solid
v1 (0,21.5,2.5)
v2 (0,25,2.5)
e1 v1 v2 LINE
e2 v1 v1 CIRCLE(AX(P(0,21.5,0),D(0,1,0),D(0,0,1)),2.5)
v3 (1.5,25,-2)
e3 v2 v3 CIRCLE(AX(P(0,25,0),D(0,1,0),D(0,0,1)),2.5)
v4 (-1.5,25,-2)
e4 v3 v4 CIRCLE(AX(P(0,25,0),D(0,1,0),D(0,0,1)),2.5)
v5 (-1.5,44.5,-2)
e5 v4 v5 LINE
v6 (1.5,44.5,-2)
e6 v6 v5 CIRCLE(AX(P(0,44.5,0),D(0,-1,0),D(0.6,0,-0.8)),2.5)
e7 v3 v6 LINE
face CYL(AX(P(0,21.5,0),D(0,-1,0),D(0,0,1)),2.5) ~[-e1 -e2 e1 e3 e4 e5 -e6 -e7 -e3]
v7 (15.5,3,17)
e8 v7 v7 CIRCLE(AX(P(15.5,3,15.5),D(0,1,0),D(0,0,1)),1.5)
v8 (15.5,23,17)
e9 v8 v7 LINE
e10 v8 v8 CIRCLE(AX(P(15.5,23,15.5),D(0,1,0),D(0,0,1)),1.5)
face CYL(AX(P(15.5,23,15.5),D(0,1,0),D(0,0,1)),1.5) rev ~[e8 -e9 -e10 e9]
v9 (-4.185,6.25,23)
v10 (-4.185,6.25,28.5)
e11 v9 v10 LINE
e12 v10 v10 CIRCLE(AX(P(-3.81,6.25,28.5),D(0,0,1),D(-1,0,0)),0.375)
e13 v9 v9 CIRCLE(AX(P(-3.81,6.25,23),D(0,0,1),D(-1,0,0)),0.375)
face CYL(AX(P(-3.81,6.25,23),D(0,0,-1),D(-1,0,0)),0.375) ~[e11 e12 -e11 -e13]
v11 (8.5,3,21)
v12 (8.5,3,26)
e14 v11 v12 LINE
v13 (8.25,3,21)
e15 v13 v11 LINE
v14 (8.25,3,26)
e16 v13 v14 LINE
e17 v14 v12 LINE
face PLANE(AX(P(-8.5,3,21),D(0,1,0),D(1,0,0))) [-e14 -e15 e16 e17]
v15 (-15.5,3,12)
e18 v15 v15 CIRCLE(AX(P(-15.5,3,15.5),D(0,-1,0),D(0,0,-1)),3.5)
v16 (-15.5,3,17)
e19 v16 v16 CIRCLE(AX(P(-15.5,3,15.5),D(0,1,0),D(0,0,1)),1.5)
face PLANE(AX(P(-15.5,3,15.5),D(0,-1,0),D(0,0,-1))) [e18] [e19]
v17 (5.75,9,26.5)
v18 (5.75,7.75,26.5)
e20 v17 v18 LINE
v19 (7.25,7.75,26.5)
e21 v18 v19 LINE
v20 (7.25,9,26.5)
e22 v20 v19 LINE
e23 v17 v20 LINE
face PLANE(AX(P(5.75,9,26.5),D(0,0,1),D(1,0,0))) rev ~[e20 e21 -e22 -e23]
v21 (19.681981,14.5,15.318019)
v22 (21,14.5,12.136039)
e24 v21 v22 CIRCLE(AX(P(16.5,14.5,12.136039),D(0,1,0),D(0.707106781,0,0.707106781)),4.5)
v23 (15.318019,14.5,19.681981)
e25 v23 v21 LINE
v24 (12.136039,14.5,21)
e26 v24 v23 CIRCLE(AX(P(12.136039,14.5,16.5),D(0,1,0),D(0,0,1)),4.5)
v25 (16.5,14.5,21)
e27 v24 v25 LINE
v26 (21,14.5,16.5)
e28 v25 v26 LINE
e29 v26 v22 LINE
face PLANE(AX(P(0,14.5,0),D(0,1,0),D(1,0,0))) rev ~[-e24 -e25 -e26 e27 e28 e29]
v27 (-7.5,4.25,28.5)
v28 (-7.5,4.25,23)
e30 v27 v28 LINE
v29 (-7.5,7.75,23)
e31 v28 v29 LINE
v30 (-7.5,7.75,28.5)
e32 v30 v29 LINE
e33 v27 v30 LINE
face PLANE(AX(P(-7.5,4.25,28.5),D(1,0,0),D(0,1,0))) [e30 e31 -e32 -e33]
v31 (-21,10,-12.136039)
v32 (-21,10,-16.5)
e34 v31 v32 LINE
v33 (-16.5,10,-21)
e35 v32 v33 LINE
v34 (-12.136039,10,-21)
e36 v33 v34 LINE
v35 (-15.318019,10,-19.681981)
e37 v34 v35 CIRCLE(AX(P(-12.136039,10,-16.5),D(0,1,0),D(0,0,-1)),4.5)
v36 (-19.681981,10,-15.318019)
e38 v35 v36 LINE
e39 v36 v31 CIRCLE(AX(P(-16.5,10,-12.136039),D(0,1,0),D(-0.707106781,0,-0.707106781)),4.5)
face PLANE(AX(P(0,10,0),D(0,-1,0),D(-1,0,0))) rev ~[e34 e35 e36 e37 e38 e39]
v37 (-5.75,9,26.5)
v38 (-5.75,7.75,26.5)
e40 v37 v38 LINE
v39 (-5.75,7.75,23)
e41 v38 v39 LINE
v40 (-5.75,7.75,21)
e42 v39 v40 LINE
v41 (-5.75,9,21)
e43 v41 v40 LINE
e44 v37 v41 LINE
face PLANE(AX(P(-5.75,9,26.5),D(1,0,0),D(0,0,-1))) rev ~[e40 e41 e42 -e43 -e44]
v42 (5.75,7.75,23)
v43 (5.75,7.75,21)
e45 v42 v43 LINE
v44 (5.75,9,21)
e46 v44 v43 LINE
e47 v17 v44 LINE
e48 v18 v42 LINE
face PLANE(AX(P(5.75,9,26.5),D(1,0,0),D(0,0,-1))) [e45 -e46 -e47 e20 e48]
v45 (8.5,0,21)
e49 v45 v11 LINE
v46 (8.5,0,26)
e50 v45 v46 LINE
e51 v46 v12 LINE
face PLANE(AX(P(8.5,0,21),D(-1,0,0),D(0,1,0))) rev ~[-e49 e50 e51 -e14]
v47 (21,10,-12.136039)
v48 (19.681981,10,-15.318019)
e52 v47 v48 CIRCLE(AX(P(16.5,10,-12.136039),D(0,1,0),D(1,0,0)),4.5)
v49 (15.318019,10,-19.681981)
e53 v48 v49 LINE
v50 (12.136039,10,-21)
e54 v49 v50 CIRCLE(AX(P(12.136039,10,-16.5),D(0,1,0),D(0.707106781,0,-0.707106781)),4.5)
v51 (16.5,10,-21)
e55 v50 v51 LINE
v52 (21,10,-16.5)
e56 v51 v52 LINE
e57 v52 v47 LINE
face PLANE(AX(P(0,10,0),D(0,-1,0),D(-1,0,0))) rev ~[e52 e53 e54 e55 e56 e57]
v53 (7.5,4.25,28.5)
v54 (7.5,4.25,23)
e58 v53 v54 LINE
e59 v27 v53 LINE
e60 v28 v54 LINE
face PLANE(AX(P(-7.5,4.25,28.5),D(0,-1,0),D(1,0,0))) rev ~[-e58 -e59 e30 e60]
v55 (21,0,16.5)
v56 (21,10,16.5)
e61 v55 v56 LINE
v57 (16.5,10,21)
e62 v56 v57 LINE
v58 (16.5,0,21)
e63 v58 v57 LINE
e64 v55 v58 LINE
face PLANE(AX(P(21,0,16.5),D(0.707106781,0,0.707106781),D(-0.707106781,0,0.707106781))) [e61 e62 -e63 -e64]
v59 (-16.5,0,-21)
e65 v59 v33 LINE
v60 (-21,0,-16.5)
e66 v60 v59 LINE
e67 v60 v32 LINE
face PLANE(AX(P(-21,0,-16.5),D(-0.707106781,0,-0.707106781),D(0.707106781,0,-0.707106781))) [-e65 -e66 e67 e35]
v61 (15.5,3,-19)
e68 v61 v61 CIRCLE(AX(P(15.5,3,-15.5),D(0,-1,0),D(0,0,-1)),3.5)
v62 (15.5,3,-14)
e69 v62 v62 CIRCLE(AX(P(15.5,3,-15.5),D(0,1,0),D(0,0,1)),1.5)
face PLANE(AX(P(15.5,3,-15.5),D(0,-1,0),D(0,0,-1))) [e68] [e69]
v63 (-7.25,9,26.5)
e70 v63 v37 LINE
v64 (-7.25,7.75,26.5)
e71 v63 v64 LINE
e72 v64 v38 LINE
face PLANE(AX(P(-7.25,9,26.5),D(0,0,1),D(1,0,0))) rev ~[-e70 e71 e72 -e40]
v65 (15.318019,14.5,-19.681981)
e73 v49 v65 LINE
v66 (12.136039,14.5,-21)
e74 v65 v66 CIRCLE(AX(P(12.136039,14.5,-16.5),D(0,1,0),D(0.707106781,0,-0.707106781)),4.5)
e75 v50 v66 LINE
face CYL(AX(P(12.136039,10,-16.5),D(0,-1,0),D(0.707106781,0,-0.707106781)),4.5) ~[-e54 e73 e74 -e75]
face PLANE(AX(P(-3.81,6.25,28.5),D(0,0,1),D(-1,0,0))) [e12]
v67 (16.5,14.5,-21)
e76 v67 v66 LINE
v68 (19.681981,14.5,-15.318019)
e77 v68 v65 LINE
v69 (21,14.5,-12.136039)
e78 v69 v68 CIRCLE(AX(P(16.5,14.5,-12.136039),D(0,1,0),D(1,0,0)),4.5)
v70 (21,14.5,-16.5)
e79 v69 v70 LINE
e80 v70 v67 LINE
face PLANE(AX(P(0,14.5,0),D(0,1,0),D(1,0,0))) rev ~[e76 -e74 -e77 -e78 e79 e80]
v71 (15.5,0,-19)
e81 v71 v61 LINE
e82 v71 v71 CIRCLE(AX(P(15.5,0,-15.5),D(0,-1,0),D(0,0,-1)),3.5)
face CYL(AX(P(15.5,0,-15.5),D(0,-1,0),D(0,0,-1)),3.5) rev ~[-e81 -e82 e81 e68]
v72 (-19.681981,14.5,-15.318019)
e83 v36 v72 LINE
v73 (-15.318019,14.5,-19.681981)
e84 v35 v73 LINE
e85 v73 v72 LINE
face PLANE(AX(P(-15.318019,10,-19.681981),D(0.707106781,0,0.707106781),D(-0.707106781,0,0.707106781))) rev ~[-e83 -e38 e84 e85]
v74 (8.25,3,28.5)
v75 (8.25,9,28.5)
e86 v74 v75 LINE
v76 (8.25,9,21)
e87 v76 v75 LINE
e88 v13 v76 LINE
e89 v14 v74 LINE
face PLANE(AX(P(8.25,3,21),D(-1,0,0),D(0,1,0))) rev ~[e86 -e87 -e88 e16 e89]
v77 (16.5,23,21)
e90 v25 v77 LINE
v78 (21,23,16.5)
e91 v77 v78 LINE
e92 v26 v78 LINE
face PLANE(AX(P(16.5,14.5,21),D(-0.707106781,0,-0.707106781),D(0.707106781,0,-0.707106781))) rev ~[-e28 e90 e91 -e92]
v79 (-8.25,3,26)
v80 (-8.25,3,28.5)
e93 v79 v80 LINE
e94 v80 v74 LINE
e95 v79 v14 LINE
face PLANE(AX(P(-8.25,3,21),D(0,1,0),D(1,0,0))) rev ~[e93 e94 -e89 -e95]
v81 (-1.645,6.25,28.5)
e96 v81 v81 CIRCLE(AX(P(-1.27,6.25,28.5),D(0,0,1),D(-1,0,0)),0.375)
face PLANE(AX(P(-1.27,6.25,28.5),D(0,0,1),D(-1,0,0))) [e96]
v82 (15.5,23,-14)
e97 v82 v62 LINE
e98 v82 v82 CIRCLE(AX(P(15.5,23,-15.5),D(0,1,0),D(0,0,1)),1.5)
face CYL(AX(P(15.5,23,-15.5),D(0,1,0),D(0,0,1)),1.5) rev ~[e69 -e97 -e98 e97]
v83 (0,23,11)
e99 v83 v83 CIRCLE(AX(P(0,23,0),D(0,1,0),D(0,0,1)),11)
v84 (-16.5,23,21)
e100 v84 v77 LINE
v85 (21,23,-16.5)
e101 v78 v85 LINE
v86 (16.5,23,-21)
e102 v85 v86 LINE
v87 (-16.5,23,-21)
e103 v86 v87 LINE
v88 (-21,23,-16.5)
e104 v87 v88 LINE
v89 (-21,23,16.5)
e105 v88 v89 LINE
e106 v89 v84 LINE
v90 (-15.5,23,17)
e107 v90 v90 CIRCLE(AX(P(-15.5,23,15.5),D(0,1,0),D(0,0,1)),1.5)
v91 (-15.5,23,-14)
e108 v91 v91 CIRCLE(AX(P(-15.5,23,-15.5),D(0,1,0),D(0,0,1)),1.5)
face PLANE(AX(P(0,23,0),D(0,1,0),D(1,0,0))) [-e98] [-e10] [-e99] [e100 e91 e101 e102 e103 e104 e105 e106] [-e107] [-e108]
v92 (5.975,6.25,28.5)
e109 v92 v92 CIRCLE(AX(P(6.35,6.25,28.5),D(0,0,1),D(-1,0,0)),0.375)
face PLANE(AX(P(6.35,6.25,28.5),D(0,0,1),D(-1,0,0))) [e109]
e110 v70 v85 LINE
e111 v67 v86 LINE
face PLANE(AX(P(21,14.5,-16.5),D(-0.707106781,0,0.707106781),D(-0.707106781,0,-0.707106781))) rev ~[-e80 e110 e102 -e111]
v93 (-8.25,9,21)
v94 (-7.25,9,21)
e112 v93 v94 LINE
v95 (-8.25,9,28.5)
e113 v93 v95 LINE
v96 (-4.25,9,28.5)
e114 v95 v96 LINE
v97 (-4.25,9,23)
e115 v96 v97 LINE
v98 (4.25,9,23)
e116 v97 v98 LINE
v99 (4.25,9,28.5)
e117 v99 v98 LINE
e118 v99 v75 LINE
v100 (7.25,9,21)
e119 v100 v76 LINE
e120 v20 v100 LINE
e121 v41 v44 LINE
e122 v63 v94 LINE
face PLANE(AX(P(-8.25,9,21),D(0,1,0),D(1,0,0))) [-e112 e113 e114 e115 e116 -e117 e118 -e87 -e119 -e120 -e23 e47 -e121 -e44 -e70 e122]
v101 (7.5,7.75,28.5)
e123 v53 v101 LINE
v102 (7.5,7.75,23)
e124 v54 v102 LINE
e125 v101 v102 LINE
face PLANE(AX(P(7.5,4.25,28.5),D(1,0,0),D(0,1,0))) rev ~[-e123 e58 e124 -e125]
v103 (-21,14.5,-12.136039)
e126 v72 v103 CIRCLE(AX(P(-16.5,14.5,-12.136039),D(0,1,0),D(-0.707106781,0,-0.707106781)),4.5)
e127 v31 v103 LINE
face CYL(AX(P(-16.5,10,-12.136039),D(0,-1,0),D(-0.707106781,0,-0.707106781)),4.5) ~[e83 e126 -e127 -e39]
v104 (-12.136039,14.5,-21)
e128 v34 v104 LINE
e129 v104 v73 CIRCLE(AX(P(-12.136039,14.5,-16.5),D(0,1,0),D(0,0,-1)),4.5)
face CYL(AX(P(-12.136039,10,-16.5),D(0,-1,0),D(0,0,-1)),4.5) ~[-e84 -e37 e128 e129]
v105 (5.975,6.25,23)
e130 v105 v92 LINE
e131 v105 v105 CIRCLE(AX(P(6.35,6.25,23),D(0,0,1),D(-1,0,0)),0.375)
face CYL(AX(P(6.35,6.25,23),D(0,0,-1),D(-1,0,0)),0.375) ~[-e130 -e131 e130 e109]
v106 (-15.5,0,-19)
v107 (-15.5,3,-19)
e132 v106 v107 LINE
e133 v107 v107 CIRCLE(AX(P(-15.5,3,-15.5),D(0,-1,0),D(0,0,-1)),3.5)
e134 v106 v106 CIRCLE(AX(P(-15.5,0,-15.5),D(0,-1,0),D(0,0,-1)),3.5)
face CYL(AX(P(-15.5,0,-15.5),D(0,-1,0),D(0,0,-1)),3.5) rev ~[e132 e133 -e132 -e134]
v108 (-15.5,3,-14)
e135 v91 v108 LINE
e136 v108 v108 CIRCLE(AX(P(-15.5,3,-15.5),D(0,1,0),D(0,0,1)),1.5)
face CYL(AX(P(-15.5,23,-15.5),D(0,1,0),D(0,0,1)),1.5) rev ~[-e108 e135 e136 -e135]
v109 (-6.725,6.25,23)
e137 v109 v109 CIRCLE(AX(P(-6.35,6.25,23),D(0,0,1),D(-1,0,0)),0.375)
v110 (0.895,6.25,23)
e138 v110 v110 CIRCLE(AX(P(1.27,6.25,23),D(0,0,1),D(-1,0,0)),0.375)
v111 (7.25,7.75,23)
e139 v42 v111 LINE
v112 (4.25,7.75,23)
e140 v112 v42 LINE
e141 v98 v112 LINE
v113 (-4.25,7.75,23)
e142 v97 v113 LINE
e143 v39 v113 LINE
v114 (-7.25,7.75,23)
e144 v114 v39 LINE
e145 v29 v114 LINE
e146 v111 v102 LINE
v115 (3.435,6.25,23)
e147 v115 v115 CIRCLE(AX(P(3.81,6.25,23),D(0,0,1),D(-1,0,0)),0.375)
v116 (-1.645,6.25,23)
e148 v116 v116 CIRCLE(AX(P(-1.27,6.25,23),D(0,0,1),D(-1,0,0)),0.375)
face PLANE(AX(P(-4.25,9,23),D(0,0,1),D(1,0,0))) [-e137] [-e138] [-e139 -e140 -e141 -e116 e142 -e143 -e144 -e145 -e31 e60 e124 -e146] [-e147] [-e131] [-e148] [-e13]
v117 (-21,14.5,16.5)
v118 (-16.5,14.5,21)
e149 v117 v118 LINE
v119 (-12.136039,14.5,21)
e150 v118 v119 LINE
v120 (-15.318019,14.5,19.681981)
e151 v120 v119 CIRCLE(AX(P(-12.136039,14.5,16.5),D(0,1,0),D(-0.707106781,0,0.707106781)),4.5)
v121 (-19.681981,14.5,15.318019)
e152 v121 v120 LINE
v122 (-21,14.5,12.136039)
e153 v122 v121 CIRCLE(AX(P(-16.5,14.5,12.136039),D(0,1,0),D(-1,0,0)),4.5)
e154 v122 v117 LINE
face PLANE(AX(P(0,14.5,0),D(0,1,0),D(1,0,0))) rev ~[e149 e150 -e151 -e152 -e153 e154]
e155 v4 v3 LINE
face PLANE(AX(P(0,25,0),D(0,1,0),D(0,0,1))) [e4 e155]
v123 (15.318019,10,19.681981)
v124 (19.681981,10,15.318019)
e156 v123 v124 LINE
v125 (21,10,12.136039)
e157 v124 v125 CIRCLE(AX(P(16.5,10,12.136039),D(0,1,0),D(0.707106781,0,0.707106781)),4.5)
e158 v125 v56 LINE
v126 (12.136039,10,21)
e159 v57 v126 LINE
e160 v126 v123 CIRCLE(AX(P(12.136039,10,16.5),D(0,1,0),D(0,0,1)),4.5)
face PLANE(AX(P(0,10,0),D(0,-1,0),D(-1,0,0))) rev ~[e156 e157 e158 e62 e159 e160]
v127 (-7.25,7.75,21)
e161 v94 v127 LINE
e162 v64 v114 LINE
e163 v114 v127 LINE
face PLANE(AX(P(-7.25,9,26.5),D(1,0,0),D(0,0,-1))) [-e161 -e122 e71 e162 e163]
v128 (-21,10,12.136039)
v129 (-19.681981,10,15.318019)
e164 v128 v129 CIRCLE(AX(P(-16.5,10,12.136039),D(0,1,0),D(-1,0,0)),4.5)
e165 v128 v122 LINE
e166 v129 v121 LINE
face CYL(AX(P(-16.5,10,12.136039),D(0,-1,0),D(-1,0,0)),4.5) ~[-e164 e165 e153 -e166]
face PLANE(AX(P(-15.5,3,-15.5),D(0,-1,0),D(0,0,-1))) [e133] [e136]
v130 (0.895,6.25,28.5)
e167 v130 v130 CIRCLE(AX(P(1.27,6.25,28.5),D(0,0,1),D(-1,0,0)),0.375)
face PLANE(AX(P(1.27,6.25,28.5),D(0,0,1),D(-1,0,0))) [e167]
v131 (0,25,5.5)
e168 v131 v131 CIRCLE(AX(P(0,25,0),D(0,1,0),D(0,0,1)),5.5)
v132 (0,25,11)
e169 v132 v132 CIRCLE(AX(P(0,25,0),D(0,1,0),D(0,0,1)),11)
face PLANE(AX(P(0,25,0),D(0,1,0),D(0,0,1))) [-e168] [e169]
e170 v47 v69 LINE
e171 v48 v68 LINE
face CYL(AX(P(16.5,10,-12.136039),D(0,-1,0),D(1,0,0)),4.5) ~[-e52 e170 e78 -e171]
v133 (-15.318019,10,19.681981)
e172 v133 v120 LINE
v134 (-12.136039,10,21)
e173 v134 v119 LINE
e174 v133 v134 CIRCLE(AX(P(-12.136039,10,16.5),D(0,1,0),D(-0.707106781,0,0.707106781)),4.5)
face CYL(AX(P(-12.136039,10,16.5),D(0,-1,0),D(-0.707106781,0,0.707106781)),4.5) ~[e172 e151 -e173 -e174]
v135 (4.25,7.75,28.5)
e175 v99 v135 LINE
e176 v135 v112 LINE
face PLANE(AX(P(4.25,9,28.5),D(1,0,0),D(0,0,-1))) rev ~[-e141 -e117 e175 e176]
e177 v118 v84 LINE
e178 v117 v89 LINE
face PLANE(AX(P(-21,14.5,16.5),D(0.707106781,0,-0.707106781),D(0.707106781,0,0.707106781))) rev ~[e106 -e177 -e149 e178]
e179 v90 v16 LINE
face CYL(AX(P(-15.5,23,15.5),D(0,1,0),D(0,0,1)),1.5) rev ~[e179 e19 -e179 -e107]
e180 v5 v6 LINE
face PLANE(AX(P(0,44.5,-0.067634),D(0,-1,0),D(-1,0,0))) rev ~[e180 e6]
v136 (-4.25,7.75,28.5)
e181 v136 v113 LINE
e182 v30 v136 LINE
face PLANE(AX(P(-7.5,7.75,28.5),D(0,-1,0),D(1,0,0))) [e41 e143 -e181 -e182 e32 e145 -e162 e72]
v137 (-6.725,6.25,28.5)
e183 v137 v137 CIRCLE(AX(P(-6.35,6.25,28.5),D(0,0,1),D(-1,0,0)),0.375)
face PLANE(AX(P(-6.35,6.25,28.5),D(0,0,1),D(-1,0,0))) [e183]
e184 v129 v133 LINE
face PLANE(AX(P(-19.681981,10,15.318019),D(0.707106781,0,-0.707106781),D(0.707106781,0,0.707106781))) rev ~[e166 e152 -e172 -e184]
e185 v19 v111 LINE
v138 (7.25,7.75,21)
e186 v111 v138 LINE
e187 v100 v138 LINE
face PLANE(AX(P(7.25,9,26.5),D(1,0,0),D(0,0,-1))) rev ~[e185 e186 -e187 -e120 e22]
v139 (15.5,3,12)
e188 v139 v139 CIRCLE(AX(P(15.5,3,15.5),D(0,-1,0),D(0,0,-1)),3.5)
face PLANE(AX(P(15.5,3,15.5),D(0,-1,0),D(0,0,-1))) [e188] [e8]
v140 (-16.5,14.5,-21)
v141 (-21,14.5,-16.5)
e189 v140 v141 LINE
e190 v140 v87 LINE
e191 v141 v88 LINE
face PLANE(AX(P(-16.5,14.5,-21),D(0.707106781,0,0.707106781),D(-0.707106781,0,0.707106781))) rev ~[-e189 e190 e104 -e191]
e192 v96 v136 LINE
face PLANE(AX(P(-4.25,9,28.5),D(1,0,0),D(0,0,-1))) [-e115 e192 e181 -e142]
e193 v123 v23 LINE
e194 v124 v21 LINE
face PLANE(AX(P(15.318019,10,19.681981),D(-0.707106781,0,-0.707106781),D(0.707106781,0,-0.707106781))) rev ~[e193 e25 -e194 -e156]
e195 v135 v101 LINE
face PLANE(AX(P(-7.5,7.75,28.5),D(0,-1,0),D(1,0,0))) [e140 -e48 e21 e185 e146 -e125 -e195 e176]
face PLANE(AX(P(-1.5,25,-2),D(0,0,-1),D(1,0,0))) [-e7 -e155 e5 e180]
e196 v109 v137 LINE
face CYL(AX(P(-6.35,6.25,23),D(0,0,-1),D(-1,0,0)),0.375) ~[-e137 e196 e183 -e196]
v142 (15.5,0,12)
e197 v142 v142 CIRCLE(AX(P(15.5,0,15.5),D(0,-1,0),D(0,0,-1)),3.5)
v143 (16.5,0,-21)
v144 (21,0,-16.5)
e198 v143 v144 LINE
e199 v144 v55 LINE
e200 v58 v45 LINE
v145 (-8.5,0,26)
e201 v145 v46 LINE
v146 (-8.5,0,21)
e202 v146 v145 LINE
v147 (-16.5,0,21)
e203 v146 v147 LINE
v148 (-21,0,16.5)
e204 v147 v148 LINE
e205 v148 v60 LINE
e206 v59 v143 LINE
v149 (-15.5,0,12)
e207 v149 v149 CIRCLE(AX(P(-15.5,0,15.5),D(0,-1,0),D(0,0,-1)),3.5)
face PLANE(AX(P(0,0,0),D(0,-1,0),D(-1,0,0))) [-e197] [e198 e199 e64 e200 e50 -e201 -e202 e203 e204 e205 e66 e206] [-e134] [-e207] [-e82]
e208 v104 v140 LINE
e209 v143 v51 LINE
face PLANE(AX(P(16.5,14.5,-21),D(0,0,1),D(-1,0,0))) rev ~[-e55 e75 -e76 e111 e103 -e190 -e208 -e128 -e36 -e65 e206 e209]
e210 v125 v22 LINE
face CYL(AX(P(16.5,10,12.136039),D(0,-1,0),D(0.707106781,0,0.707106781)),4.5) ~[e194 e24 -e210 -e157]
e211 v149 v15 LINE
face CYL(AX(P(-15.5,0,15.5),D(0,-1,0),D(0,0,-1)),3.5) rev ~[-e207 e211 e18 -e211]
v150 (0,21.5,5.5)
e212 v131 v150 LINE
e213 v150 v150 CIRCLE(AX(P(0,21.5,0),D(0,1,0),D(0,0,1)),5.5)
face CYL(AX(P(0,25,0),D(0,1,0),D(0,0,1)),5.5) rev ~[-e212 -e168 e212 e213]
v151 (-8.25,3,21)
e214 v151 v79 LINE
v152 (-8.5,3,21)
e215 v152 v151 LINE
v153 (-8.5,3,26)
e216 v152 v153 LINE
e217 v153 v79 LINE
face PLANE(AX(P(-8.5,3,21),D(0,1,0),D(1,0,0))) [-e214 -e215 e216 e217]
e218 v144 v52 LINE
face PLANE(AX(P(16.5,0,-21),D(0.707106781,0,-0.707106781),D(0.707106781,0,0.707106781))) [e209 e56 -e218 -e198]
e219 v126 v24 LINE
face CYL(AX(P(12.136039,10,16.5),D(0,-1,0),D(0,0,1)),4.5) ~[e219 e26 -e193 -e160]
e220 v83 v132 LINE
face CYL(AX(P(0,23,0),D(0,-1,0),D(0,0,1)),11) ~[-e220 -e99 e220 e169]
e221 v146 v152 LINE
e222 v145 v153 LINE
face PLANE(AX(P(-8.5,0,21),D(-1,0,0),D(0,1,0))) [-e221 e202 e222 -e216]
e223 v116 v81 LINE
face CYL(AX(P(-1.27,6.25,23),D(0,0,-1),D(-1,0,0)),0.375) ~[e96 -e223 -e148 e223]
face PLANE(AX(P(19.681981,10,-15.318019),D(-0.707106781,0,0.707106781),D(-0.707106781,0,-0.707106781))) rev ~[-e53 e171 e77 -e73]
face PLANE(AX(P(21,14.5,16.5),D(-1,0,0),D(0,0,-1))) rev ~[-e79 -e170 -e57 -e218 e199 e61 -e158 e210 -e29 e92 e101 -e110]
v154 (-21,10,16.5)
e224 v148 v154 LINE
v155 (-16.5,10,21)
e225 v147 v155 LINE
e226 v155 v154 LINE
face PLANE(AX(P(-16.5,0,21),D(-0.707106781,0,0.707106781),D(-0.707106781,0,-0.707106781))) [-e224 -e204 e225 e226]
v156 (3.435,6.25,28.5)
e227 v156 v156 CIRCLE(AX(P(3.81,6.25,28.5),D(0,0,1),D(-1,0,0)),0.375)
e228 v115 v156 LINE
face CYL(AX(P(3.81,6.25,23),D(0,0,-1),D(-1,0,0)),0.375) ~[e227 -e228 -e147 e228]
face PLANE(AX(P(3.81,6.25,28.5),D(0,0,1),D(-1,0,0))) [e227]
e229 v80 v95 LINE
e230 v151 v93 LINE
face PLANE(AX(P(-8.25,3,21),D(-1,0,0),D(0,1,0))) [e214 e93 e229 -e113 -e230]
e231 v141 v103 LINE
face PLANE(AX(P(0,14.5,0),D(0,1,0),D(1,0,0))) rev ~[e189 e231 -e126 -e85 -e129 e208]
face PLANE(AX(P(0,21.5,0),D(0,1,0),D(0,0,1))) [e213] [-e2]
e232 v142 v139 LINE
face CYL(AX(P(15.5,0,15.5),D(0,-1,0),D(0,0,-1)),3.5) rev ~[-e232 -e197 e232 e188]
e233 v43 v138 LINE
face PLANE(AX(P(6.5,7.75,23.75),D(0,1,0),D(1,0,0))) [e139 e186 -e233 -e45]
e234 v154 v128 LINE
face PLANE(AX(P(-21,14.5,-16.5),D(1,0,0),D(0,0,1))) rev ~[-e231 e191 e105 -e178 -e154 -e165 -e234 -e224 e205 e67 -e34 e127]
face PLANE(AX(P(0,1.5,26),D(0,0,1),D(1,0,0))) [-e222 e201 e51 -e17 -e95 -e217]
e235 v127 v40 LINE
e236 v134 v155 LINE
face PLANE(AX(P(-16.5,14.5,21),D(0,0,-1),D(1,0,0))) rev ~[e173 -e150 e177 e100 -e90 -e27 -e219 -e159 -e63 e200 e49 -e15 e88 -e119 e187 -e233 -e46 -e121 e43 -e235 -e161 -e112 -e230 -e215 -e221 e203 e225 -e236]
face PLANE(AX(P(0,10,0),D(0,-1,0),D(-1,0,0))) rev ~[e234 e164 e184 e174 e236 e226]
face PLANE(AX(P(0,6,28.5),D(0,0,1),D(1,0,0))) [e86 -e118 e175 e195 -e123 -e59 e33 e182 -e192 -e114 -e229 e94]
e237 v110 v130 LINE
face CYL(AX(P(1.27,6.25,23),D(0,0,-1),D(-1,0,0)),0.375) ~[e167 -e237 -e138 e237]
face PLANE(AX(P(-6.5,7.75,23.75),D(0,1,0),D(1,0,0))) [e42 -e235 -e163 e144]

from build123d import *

# Parameters (mm, degrees)
BOSS_EXTRUDE1_DEPTH  = 10
BOSS_EXTRUDE3_DEPTH  = 4.5
BOSS_EXTRUDE4_DEPTH  = 8.5
SKETCH5_R            = 11
BOSS_EXTRUDE5_DEPTH  = 2
CUT_EXTRUDE1_REACH   = 39.563
SKETCH6_R            = 1.5
SKETCH7_R            = 5.5
CUT_EXTRUDE2_DEPTH   = 3.5
SKETCH8_R            = 2.5
BOSS_EXTRUDE6_DEPTH  = 3.5
BOSS_EXTRUDE7_DEPTH  = 19.5
SKETCH10_R           = 3.5
CUT_EXTRUDE3_DEPTH   = 3
SKETCH11_W           = 17
SKETCH11_H           = 3
BOSS_EXTRUDE8_DEPTH  = 5
SKETCH12_W           = 16.5
SKETCH12_H           = 6
BOSS_EXTRUDE9_DEPTH  = 7.5
SKETCH13_W           = 15
SKETCH13_H           = 3.5
CUT_EXTRUDE4_DEPTH   = 5.5
CUT_EXTRUDE5_REACH   = 52.135
SKETCH14_W           = 8.5
SKETCH14_H           = 5.5
SKETCH15_W           = 1.5
SKETCH15_H           = 5.5
CUT_EXTRUDE6_DEPTH   = 1.25
SKETCH16_R           = 0.375
BOSS_EXTRUDE10_DEPTH = 5.5


with BuildPart() as part:
    # Sketch1 → Boss-Extrude1 (new body)
    with BuildSketch(Plane(origin=(0, 0, 0), x_dir=(1, 0, 0), z_dir=(0, 1, 0))):
        Polygon((-21, 16.5), (-16.5, 21), (16.5, 21), (21, 16.5), (21, -16.5), (16.5, -21), (-16.5, -21), (-21, -16.5), align=None)
    extrude(amount=BOSS_EXTRUDE1_DEPTH)

    # Sketch2 → Boss-Extrude3 (add)
    with BuildSketch(Plane(origin=(0, 10, 0), x_dir=(1, 0, 0), z_dir=(0, 1, 0))):
        with BuildLine():
            Line((-15.318019485, 19.681980515), (-19.681980515, 15.318019485))
            ThreePointArc((-19.681980515, 15.318019485), (-20.657457896, 13.858114415), (-21, 12.136038969))
            Line((-21, 12.136038969), (-21, -12.136038969))
            ThreePointArc((-21, -12.136038969), (-20.657457896, -13.858114415), (-19.681980515, -15.318019485))
            Line((-19.681980515, -15.318019485), (-15.318019485, -19.681980515))
            ThreePointArc((-15.318019485, -19.681980515), (-13.858114415, -20.657457896), (-12.136038969, -21))
            Line((-12.136038969, -21), (12.136038969, -21))
            ThreePointArc((12.136038969, -21), (13.858114415, -20.657457896), (15.318019485, -19.681980515))
            Line((15.318019485, -19.681980515), (19.681980515, -15.318019485))
            ThreePointArc((19.681980515, -15.318019485), (20.657457896, -13.858114415), (21, -12.136038969))
            Line((21, -12.136038969), (21, 12.136038969))
            ThreePointArc((21, 12.136038969), (20.657457896, 13.858114415), (19.681980515, 15.318019485))
            Line((19.681980515, 15.318019485), (15.318019485, 19.681980515))
            ThreePointArc((15.318019485, 19.681980515), (13.858114415, 20.657457896), (12.136038969, 21))
            Line((12.136038969, 21), (-12.136038969, 21))
            ThreePointArc((-12.136038969, 21), (-13.858114415, 20.657457896), (-15.318019485, 19.681980515))
        make_face()
    extrude(amount=BOSS_EXTRUDE3_DEPTH)

    # Sketch4 → Boss-Extrude4 (add)
    with BuildSketch(Plane(origin=(0, 14.5, 0), x_dir=(1, 0, 0), z_dir=(0, 1, 0))):
        Polygon((-16.5, 21), (-21, 16.5), (-21, -16.5), (-16.5, -21), (16.5, -21), (21, -16.5), (21, 16.5), (16.5, 21), align=None)
    extrude(amount=BOSS_EXTRUDE4_DEPTH)

    # Sketch5 → Boss-Extrude5 (add)
    with BuildSketch(Plane(origin=(0, 23, 0), x_dir=(1, 0, 0), z_dir=(0, 1, 0))):
        with Locations(Location((0, 0, 0), (0, 0, 270))):
            Circle(SKETCH5_R)
    extrude(amount=BOSS_EXTRUDE5_DEPTH)

    # Sketch6 → Cut-Extrude1 (cut, up to next)
    with BuildSketch(Plane(origin=(0, 23, 0), x_dir=(1, 0, 0), z_dir=(0, 1, 0)), mode=Mode.PRIVATE) as cut_extrude1_sk1:
        with Locations(Location((-15.5, 15.5, 0), (0, 0, 270))):
            Circle(SKETCH6_R)
    cut_extrude1_tool1 = extrude(cut_extrude1_sk1.sketch, amount=-CUT_EXTRUDE1_REACH, mode=Mode.PRIVATE) & part.part
    # Sketch6 → Cut-Extrude1 (cut, up to next)
    with BuildSketch(Plane(origin=(0, 23, 0), x_dir=(1, 0, 0), z_dir=(0, 1, 0)), mode=Mode.PRIVATE) as cut_extrude1_sk2:
        with Locations(Location((15.5, 15.5, 0), (0, 0, 270))):
            Circle(SKETCH6_R)
    cut_extrude1_tool2 = extrude(cut_extrude1_sk2.sketch, amount=-CUT_EXTRUDE1_REACH, mode=Mode.PRIVATE) & part.part
    # Sketch6 → Cut-Extrude1 (cut, up to next)
    with BuildSketch(Plane(origin=(0, 23, 0), x_dir=(1, 0, 0), z_dir=(0, 1, 0)), mode=Mode.PRIVATE) as cut_extrude1_sk3:
        with Locations(Location((15.5, -15.5, 0), (0, 0, 270))):
            Circle(SKETCH6_R)
    cut_extrude1_tool3 = extrude(cut_extrude1_sk3.sketch, amount=-CUT_EXTRUDE1_REACH, mode=Mode.PRIVATE) & part.part
    # Sketch6 → Cut-Extrude1 (cut, up to next)
    with BuildSketch(Plane(origin=(0, 23, 0), x_dir=(1, 0, 0), z_dir=(0, 1, 0)), mode=Mode.PRIVATE) as cut_extrude1_sk4:
        with Locations(Location((-15.5, -15.5, 0), (0, 0, 270))):
            Circle(SKETCH6_R)
    cut_extrude1_tool4 = extrude(cut_extrude1_sk4.sketch, amount=-CUT_EXTRUDE1_REACH, mode=Mode.PRIVATE) & part.part
    add(cut_extrude1_tool1.solids().sort_by_distance((-15.5, 23, -15.5))[0], mode=Mode.SUBTRACT)
    add(cut_extrude1_tool2.solids().sort_by_distance((15.5, 23, -15.5))[0], mode=Mode.SUBTRACT)
    add(cut_extrude1_tool3.solids().sort_by_distance((15.5, 23, 15.5))[0], mode=Mode.SUBTRACT)
    add(cut_extrude1_tool4.solids().sort_by_distance((-15.5, 23, 15.5))[0], mode=Mode.SUBTRACT)

    # Sketch7 → Cut-Extrude2 (cut)
    with BuildSketch(Plane(origin=(0, 25, 0), x_dir=(1, 0, 0), z_dir=(0, 1, 0))):
        with Locations(Location((0, 0, 0), (0, 0, 270))):
            Circle(SKETCH7_R)
    extrude(amount=-CUT_EXTRUDE2_DEPTH, mode=Mode.SUBTRACT)

    # Sketch8 → Boss-Extrude6 (add)
    with BuildSketch(Plane(origin=(0, 21.5, 0), x_dir=(1, 0, 0), z_dir=(0, 1, 0))):
        with Locations(Location((0, 0, 0), (0, 0, 270))):
            Circle(SKETCH8_R)
    extrude(amount=BOSS_EXTRUDE6_DEPTH)

    # Sketch9 → Boss-Extrude7 (add)
    with BuildSketch(Plane(origin=(0, 25, 0), x_dir=(1, 0, 0), z_dir=(0, 1, 0))):
        with BuildLine():
            Line((-1.5, 2), (1.5, 2))
            ThreePointArc((1.5, 2), (0, -2.5), (-1.5, 2))
        make_face()
    extrude(amount=BOSS_EXTRUDE7_DEPTH)

    # Sketch10 → Cut-Extrude3 (cut)
    with BuildSketch(Plane.XZ):
        with Locations(Location((-15.5, 15.5, 0), (0, 0, 270))):
            Circle(SKETCH10_R)
        with Locations(Location((15.5, 15.5, 0), (0, 0, 270))):
            Circle(SKETCH10_R)
        with Locations(Location((15.5, -15.5, 0), (0, 0, 270))):
            Circle(SKETCH10_R)
        with Locations(Location((-15.5, -15.5, 0), (0, 0, 270))):
            Circle(SKETCH10_R)
    extrude(amount=-CUT_EXTRUDE3_DEPTH, mode=Mode.SUBTRACT)

    # Sketch11 → Boss-Extrude8 (add)
    with BuildSketch(Plane.XY.offset(21)):
        with Locations((0, 1.5)):
            Rectangle(SKETCH11_W, SKETCH11_H)
    extrude(amount=BOSS_EXTRUDE8_DEPTH)

    # Sketch12 → Boss-Extrude9 (add)
    with BuildSketch(Plane.XY.offset(21)):
        with Locations((0, 6)):
            Rectangle(SKETCH12_W, SKETCH12_H)
    extrude(amount=BOSS_EXTRUDE9_DEPTH)

    # Sketch13 → Cut-Extrude4 (cut)
    with BuildSketch(Plane.XY.offset(28.5)):
        with Locations((0, 6)):
            Rectangle(SKETCH13_W, SKETCH13_H)
    extrude(amount=-CUT_EXTRUDE4_DEPTH, mode=Mode.SUBTRACT)

    # Sketch14 → Cut-Extrude5 (cut, up to next)
    with BuildSketch(Plane(origin=(0, 9, 0), x_dir=(1, 0, 0), z_dir=(0, 1, 0)), mode=Mode.PRIVATE) as cut_extrude5_sk1:
        with Locations((0, -25.75)):
            Rectangle(SKETCH14_W, SKETCH14_H)
    cut_extrude5_tool1 = extrude(cut_extrude5_sk1.sketch, amount=-CUT_EXTRUDE5_REACH, mode=Mode.PRIVATE) & part.part
    add(cut_extrude5_tool1.solids().sort_by_distance((0, 9, 25.75))[0], mode=Mode.SUBTRACT)

    # Sketch15 → Cut-Extrude6 (cut)
    with BuildSketch(Plane(origin=(0, 9, 0), x_dir=(1, 0, 0), z_dir=(0, 1, 0))):
        with Locations((-6.5, -23.75)):
            Rectangle(SKETCH15_W, SKETCH15_H)
        with Locations((6.5, -23.75)):
            Rectangle(SKETCH15_W, SKETCH15_H)
    extrude(amount=-CUT_EXTRUDE6_DEPTH, mode=Mode.SUBTRACT)

    # Sketch16 → Boss-Extrude10 (add)
    with BuildSketch(Plane.XY.offset(23)):
        with Locations(Location((-1.27, 6.25, 0), (0, 0, 180))):
            Circle(SKETCH16_R)
        with Locations(Location((1.27, 6.25, 0), (0, 0, 180))):
            Circle(SKETCH16_R)
        with Locations(Location((-3.81, 6.25, 0), (0, 0, 180))):
            Circle(SKETCH16_R)
        with Locations(Location((-6.35, 6.25, 0), (0, 0, 180))):
            Circle(SKETCH16_R)
        with Locations(Location((3.81, 6.25, 0), (0, 0, 180))):
            Circle(SKETCH16_R)
        with Locations(Location((6.35, 6.25, 0), (0, 0, 180))):
            Circle(SKETCH16_R)
    extrude(amount=BOSS_EXTRUDE10_DEPTH)


solid = part.part
